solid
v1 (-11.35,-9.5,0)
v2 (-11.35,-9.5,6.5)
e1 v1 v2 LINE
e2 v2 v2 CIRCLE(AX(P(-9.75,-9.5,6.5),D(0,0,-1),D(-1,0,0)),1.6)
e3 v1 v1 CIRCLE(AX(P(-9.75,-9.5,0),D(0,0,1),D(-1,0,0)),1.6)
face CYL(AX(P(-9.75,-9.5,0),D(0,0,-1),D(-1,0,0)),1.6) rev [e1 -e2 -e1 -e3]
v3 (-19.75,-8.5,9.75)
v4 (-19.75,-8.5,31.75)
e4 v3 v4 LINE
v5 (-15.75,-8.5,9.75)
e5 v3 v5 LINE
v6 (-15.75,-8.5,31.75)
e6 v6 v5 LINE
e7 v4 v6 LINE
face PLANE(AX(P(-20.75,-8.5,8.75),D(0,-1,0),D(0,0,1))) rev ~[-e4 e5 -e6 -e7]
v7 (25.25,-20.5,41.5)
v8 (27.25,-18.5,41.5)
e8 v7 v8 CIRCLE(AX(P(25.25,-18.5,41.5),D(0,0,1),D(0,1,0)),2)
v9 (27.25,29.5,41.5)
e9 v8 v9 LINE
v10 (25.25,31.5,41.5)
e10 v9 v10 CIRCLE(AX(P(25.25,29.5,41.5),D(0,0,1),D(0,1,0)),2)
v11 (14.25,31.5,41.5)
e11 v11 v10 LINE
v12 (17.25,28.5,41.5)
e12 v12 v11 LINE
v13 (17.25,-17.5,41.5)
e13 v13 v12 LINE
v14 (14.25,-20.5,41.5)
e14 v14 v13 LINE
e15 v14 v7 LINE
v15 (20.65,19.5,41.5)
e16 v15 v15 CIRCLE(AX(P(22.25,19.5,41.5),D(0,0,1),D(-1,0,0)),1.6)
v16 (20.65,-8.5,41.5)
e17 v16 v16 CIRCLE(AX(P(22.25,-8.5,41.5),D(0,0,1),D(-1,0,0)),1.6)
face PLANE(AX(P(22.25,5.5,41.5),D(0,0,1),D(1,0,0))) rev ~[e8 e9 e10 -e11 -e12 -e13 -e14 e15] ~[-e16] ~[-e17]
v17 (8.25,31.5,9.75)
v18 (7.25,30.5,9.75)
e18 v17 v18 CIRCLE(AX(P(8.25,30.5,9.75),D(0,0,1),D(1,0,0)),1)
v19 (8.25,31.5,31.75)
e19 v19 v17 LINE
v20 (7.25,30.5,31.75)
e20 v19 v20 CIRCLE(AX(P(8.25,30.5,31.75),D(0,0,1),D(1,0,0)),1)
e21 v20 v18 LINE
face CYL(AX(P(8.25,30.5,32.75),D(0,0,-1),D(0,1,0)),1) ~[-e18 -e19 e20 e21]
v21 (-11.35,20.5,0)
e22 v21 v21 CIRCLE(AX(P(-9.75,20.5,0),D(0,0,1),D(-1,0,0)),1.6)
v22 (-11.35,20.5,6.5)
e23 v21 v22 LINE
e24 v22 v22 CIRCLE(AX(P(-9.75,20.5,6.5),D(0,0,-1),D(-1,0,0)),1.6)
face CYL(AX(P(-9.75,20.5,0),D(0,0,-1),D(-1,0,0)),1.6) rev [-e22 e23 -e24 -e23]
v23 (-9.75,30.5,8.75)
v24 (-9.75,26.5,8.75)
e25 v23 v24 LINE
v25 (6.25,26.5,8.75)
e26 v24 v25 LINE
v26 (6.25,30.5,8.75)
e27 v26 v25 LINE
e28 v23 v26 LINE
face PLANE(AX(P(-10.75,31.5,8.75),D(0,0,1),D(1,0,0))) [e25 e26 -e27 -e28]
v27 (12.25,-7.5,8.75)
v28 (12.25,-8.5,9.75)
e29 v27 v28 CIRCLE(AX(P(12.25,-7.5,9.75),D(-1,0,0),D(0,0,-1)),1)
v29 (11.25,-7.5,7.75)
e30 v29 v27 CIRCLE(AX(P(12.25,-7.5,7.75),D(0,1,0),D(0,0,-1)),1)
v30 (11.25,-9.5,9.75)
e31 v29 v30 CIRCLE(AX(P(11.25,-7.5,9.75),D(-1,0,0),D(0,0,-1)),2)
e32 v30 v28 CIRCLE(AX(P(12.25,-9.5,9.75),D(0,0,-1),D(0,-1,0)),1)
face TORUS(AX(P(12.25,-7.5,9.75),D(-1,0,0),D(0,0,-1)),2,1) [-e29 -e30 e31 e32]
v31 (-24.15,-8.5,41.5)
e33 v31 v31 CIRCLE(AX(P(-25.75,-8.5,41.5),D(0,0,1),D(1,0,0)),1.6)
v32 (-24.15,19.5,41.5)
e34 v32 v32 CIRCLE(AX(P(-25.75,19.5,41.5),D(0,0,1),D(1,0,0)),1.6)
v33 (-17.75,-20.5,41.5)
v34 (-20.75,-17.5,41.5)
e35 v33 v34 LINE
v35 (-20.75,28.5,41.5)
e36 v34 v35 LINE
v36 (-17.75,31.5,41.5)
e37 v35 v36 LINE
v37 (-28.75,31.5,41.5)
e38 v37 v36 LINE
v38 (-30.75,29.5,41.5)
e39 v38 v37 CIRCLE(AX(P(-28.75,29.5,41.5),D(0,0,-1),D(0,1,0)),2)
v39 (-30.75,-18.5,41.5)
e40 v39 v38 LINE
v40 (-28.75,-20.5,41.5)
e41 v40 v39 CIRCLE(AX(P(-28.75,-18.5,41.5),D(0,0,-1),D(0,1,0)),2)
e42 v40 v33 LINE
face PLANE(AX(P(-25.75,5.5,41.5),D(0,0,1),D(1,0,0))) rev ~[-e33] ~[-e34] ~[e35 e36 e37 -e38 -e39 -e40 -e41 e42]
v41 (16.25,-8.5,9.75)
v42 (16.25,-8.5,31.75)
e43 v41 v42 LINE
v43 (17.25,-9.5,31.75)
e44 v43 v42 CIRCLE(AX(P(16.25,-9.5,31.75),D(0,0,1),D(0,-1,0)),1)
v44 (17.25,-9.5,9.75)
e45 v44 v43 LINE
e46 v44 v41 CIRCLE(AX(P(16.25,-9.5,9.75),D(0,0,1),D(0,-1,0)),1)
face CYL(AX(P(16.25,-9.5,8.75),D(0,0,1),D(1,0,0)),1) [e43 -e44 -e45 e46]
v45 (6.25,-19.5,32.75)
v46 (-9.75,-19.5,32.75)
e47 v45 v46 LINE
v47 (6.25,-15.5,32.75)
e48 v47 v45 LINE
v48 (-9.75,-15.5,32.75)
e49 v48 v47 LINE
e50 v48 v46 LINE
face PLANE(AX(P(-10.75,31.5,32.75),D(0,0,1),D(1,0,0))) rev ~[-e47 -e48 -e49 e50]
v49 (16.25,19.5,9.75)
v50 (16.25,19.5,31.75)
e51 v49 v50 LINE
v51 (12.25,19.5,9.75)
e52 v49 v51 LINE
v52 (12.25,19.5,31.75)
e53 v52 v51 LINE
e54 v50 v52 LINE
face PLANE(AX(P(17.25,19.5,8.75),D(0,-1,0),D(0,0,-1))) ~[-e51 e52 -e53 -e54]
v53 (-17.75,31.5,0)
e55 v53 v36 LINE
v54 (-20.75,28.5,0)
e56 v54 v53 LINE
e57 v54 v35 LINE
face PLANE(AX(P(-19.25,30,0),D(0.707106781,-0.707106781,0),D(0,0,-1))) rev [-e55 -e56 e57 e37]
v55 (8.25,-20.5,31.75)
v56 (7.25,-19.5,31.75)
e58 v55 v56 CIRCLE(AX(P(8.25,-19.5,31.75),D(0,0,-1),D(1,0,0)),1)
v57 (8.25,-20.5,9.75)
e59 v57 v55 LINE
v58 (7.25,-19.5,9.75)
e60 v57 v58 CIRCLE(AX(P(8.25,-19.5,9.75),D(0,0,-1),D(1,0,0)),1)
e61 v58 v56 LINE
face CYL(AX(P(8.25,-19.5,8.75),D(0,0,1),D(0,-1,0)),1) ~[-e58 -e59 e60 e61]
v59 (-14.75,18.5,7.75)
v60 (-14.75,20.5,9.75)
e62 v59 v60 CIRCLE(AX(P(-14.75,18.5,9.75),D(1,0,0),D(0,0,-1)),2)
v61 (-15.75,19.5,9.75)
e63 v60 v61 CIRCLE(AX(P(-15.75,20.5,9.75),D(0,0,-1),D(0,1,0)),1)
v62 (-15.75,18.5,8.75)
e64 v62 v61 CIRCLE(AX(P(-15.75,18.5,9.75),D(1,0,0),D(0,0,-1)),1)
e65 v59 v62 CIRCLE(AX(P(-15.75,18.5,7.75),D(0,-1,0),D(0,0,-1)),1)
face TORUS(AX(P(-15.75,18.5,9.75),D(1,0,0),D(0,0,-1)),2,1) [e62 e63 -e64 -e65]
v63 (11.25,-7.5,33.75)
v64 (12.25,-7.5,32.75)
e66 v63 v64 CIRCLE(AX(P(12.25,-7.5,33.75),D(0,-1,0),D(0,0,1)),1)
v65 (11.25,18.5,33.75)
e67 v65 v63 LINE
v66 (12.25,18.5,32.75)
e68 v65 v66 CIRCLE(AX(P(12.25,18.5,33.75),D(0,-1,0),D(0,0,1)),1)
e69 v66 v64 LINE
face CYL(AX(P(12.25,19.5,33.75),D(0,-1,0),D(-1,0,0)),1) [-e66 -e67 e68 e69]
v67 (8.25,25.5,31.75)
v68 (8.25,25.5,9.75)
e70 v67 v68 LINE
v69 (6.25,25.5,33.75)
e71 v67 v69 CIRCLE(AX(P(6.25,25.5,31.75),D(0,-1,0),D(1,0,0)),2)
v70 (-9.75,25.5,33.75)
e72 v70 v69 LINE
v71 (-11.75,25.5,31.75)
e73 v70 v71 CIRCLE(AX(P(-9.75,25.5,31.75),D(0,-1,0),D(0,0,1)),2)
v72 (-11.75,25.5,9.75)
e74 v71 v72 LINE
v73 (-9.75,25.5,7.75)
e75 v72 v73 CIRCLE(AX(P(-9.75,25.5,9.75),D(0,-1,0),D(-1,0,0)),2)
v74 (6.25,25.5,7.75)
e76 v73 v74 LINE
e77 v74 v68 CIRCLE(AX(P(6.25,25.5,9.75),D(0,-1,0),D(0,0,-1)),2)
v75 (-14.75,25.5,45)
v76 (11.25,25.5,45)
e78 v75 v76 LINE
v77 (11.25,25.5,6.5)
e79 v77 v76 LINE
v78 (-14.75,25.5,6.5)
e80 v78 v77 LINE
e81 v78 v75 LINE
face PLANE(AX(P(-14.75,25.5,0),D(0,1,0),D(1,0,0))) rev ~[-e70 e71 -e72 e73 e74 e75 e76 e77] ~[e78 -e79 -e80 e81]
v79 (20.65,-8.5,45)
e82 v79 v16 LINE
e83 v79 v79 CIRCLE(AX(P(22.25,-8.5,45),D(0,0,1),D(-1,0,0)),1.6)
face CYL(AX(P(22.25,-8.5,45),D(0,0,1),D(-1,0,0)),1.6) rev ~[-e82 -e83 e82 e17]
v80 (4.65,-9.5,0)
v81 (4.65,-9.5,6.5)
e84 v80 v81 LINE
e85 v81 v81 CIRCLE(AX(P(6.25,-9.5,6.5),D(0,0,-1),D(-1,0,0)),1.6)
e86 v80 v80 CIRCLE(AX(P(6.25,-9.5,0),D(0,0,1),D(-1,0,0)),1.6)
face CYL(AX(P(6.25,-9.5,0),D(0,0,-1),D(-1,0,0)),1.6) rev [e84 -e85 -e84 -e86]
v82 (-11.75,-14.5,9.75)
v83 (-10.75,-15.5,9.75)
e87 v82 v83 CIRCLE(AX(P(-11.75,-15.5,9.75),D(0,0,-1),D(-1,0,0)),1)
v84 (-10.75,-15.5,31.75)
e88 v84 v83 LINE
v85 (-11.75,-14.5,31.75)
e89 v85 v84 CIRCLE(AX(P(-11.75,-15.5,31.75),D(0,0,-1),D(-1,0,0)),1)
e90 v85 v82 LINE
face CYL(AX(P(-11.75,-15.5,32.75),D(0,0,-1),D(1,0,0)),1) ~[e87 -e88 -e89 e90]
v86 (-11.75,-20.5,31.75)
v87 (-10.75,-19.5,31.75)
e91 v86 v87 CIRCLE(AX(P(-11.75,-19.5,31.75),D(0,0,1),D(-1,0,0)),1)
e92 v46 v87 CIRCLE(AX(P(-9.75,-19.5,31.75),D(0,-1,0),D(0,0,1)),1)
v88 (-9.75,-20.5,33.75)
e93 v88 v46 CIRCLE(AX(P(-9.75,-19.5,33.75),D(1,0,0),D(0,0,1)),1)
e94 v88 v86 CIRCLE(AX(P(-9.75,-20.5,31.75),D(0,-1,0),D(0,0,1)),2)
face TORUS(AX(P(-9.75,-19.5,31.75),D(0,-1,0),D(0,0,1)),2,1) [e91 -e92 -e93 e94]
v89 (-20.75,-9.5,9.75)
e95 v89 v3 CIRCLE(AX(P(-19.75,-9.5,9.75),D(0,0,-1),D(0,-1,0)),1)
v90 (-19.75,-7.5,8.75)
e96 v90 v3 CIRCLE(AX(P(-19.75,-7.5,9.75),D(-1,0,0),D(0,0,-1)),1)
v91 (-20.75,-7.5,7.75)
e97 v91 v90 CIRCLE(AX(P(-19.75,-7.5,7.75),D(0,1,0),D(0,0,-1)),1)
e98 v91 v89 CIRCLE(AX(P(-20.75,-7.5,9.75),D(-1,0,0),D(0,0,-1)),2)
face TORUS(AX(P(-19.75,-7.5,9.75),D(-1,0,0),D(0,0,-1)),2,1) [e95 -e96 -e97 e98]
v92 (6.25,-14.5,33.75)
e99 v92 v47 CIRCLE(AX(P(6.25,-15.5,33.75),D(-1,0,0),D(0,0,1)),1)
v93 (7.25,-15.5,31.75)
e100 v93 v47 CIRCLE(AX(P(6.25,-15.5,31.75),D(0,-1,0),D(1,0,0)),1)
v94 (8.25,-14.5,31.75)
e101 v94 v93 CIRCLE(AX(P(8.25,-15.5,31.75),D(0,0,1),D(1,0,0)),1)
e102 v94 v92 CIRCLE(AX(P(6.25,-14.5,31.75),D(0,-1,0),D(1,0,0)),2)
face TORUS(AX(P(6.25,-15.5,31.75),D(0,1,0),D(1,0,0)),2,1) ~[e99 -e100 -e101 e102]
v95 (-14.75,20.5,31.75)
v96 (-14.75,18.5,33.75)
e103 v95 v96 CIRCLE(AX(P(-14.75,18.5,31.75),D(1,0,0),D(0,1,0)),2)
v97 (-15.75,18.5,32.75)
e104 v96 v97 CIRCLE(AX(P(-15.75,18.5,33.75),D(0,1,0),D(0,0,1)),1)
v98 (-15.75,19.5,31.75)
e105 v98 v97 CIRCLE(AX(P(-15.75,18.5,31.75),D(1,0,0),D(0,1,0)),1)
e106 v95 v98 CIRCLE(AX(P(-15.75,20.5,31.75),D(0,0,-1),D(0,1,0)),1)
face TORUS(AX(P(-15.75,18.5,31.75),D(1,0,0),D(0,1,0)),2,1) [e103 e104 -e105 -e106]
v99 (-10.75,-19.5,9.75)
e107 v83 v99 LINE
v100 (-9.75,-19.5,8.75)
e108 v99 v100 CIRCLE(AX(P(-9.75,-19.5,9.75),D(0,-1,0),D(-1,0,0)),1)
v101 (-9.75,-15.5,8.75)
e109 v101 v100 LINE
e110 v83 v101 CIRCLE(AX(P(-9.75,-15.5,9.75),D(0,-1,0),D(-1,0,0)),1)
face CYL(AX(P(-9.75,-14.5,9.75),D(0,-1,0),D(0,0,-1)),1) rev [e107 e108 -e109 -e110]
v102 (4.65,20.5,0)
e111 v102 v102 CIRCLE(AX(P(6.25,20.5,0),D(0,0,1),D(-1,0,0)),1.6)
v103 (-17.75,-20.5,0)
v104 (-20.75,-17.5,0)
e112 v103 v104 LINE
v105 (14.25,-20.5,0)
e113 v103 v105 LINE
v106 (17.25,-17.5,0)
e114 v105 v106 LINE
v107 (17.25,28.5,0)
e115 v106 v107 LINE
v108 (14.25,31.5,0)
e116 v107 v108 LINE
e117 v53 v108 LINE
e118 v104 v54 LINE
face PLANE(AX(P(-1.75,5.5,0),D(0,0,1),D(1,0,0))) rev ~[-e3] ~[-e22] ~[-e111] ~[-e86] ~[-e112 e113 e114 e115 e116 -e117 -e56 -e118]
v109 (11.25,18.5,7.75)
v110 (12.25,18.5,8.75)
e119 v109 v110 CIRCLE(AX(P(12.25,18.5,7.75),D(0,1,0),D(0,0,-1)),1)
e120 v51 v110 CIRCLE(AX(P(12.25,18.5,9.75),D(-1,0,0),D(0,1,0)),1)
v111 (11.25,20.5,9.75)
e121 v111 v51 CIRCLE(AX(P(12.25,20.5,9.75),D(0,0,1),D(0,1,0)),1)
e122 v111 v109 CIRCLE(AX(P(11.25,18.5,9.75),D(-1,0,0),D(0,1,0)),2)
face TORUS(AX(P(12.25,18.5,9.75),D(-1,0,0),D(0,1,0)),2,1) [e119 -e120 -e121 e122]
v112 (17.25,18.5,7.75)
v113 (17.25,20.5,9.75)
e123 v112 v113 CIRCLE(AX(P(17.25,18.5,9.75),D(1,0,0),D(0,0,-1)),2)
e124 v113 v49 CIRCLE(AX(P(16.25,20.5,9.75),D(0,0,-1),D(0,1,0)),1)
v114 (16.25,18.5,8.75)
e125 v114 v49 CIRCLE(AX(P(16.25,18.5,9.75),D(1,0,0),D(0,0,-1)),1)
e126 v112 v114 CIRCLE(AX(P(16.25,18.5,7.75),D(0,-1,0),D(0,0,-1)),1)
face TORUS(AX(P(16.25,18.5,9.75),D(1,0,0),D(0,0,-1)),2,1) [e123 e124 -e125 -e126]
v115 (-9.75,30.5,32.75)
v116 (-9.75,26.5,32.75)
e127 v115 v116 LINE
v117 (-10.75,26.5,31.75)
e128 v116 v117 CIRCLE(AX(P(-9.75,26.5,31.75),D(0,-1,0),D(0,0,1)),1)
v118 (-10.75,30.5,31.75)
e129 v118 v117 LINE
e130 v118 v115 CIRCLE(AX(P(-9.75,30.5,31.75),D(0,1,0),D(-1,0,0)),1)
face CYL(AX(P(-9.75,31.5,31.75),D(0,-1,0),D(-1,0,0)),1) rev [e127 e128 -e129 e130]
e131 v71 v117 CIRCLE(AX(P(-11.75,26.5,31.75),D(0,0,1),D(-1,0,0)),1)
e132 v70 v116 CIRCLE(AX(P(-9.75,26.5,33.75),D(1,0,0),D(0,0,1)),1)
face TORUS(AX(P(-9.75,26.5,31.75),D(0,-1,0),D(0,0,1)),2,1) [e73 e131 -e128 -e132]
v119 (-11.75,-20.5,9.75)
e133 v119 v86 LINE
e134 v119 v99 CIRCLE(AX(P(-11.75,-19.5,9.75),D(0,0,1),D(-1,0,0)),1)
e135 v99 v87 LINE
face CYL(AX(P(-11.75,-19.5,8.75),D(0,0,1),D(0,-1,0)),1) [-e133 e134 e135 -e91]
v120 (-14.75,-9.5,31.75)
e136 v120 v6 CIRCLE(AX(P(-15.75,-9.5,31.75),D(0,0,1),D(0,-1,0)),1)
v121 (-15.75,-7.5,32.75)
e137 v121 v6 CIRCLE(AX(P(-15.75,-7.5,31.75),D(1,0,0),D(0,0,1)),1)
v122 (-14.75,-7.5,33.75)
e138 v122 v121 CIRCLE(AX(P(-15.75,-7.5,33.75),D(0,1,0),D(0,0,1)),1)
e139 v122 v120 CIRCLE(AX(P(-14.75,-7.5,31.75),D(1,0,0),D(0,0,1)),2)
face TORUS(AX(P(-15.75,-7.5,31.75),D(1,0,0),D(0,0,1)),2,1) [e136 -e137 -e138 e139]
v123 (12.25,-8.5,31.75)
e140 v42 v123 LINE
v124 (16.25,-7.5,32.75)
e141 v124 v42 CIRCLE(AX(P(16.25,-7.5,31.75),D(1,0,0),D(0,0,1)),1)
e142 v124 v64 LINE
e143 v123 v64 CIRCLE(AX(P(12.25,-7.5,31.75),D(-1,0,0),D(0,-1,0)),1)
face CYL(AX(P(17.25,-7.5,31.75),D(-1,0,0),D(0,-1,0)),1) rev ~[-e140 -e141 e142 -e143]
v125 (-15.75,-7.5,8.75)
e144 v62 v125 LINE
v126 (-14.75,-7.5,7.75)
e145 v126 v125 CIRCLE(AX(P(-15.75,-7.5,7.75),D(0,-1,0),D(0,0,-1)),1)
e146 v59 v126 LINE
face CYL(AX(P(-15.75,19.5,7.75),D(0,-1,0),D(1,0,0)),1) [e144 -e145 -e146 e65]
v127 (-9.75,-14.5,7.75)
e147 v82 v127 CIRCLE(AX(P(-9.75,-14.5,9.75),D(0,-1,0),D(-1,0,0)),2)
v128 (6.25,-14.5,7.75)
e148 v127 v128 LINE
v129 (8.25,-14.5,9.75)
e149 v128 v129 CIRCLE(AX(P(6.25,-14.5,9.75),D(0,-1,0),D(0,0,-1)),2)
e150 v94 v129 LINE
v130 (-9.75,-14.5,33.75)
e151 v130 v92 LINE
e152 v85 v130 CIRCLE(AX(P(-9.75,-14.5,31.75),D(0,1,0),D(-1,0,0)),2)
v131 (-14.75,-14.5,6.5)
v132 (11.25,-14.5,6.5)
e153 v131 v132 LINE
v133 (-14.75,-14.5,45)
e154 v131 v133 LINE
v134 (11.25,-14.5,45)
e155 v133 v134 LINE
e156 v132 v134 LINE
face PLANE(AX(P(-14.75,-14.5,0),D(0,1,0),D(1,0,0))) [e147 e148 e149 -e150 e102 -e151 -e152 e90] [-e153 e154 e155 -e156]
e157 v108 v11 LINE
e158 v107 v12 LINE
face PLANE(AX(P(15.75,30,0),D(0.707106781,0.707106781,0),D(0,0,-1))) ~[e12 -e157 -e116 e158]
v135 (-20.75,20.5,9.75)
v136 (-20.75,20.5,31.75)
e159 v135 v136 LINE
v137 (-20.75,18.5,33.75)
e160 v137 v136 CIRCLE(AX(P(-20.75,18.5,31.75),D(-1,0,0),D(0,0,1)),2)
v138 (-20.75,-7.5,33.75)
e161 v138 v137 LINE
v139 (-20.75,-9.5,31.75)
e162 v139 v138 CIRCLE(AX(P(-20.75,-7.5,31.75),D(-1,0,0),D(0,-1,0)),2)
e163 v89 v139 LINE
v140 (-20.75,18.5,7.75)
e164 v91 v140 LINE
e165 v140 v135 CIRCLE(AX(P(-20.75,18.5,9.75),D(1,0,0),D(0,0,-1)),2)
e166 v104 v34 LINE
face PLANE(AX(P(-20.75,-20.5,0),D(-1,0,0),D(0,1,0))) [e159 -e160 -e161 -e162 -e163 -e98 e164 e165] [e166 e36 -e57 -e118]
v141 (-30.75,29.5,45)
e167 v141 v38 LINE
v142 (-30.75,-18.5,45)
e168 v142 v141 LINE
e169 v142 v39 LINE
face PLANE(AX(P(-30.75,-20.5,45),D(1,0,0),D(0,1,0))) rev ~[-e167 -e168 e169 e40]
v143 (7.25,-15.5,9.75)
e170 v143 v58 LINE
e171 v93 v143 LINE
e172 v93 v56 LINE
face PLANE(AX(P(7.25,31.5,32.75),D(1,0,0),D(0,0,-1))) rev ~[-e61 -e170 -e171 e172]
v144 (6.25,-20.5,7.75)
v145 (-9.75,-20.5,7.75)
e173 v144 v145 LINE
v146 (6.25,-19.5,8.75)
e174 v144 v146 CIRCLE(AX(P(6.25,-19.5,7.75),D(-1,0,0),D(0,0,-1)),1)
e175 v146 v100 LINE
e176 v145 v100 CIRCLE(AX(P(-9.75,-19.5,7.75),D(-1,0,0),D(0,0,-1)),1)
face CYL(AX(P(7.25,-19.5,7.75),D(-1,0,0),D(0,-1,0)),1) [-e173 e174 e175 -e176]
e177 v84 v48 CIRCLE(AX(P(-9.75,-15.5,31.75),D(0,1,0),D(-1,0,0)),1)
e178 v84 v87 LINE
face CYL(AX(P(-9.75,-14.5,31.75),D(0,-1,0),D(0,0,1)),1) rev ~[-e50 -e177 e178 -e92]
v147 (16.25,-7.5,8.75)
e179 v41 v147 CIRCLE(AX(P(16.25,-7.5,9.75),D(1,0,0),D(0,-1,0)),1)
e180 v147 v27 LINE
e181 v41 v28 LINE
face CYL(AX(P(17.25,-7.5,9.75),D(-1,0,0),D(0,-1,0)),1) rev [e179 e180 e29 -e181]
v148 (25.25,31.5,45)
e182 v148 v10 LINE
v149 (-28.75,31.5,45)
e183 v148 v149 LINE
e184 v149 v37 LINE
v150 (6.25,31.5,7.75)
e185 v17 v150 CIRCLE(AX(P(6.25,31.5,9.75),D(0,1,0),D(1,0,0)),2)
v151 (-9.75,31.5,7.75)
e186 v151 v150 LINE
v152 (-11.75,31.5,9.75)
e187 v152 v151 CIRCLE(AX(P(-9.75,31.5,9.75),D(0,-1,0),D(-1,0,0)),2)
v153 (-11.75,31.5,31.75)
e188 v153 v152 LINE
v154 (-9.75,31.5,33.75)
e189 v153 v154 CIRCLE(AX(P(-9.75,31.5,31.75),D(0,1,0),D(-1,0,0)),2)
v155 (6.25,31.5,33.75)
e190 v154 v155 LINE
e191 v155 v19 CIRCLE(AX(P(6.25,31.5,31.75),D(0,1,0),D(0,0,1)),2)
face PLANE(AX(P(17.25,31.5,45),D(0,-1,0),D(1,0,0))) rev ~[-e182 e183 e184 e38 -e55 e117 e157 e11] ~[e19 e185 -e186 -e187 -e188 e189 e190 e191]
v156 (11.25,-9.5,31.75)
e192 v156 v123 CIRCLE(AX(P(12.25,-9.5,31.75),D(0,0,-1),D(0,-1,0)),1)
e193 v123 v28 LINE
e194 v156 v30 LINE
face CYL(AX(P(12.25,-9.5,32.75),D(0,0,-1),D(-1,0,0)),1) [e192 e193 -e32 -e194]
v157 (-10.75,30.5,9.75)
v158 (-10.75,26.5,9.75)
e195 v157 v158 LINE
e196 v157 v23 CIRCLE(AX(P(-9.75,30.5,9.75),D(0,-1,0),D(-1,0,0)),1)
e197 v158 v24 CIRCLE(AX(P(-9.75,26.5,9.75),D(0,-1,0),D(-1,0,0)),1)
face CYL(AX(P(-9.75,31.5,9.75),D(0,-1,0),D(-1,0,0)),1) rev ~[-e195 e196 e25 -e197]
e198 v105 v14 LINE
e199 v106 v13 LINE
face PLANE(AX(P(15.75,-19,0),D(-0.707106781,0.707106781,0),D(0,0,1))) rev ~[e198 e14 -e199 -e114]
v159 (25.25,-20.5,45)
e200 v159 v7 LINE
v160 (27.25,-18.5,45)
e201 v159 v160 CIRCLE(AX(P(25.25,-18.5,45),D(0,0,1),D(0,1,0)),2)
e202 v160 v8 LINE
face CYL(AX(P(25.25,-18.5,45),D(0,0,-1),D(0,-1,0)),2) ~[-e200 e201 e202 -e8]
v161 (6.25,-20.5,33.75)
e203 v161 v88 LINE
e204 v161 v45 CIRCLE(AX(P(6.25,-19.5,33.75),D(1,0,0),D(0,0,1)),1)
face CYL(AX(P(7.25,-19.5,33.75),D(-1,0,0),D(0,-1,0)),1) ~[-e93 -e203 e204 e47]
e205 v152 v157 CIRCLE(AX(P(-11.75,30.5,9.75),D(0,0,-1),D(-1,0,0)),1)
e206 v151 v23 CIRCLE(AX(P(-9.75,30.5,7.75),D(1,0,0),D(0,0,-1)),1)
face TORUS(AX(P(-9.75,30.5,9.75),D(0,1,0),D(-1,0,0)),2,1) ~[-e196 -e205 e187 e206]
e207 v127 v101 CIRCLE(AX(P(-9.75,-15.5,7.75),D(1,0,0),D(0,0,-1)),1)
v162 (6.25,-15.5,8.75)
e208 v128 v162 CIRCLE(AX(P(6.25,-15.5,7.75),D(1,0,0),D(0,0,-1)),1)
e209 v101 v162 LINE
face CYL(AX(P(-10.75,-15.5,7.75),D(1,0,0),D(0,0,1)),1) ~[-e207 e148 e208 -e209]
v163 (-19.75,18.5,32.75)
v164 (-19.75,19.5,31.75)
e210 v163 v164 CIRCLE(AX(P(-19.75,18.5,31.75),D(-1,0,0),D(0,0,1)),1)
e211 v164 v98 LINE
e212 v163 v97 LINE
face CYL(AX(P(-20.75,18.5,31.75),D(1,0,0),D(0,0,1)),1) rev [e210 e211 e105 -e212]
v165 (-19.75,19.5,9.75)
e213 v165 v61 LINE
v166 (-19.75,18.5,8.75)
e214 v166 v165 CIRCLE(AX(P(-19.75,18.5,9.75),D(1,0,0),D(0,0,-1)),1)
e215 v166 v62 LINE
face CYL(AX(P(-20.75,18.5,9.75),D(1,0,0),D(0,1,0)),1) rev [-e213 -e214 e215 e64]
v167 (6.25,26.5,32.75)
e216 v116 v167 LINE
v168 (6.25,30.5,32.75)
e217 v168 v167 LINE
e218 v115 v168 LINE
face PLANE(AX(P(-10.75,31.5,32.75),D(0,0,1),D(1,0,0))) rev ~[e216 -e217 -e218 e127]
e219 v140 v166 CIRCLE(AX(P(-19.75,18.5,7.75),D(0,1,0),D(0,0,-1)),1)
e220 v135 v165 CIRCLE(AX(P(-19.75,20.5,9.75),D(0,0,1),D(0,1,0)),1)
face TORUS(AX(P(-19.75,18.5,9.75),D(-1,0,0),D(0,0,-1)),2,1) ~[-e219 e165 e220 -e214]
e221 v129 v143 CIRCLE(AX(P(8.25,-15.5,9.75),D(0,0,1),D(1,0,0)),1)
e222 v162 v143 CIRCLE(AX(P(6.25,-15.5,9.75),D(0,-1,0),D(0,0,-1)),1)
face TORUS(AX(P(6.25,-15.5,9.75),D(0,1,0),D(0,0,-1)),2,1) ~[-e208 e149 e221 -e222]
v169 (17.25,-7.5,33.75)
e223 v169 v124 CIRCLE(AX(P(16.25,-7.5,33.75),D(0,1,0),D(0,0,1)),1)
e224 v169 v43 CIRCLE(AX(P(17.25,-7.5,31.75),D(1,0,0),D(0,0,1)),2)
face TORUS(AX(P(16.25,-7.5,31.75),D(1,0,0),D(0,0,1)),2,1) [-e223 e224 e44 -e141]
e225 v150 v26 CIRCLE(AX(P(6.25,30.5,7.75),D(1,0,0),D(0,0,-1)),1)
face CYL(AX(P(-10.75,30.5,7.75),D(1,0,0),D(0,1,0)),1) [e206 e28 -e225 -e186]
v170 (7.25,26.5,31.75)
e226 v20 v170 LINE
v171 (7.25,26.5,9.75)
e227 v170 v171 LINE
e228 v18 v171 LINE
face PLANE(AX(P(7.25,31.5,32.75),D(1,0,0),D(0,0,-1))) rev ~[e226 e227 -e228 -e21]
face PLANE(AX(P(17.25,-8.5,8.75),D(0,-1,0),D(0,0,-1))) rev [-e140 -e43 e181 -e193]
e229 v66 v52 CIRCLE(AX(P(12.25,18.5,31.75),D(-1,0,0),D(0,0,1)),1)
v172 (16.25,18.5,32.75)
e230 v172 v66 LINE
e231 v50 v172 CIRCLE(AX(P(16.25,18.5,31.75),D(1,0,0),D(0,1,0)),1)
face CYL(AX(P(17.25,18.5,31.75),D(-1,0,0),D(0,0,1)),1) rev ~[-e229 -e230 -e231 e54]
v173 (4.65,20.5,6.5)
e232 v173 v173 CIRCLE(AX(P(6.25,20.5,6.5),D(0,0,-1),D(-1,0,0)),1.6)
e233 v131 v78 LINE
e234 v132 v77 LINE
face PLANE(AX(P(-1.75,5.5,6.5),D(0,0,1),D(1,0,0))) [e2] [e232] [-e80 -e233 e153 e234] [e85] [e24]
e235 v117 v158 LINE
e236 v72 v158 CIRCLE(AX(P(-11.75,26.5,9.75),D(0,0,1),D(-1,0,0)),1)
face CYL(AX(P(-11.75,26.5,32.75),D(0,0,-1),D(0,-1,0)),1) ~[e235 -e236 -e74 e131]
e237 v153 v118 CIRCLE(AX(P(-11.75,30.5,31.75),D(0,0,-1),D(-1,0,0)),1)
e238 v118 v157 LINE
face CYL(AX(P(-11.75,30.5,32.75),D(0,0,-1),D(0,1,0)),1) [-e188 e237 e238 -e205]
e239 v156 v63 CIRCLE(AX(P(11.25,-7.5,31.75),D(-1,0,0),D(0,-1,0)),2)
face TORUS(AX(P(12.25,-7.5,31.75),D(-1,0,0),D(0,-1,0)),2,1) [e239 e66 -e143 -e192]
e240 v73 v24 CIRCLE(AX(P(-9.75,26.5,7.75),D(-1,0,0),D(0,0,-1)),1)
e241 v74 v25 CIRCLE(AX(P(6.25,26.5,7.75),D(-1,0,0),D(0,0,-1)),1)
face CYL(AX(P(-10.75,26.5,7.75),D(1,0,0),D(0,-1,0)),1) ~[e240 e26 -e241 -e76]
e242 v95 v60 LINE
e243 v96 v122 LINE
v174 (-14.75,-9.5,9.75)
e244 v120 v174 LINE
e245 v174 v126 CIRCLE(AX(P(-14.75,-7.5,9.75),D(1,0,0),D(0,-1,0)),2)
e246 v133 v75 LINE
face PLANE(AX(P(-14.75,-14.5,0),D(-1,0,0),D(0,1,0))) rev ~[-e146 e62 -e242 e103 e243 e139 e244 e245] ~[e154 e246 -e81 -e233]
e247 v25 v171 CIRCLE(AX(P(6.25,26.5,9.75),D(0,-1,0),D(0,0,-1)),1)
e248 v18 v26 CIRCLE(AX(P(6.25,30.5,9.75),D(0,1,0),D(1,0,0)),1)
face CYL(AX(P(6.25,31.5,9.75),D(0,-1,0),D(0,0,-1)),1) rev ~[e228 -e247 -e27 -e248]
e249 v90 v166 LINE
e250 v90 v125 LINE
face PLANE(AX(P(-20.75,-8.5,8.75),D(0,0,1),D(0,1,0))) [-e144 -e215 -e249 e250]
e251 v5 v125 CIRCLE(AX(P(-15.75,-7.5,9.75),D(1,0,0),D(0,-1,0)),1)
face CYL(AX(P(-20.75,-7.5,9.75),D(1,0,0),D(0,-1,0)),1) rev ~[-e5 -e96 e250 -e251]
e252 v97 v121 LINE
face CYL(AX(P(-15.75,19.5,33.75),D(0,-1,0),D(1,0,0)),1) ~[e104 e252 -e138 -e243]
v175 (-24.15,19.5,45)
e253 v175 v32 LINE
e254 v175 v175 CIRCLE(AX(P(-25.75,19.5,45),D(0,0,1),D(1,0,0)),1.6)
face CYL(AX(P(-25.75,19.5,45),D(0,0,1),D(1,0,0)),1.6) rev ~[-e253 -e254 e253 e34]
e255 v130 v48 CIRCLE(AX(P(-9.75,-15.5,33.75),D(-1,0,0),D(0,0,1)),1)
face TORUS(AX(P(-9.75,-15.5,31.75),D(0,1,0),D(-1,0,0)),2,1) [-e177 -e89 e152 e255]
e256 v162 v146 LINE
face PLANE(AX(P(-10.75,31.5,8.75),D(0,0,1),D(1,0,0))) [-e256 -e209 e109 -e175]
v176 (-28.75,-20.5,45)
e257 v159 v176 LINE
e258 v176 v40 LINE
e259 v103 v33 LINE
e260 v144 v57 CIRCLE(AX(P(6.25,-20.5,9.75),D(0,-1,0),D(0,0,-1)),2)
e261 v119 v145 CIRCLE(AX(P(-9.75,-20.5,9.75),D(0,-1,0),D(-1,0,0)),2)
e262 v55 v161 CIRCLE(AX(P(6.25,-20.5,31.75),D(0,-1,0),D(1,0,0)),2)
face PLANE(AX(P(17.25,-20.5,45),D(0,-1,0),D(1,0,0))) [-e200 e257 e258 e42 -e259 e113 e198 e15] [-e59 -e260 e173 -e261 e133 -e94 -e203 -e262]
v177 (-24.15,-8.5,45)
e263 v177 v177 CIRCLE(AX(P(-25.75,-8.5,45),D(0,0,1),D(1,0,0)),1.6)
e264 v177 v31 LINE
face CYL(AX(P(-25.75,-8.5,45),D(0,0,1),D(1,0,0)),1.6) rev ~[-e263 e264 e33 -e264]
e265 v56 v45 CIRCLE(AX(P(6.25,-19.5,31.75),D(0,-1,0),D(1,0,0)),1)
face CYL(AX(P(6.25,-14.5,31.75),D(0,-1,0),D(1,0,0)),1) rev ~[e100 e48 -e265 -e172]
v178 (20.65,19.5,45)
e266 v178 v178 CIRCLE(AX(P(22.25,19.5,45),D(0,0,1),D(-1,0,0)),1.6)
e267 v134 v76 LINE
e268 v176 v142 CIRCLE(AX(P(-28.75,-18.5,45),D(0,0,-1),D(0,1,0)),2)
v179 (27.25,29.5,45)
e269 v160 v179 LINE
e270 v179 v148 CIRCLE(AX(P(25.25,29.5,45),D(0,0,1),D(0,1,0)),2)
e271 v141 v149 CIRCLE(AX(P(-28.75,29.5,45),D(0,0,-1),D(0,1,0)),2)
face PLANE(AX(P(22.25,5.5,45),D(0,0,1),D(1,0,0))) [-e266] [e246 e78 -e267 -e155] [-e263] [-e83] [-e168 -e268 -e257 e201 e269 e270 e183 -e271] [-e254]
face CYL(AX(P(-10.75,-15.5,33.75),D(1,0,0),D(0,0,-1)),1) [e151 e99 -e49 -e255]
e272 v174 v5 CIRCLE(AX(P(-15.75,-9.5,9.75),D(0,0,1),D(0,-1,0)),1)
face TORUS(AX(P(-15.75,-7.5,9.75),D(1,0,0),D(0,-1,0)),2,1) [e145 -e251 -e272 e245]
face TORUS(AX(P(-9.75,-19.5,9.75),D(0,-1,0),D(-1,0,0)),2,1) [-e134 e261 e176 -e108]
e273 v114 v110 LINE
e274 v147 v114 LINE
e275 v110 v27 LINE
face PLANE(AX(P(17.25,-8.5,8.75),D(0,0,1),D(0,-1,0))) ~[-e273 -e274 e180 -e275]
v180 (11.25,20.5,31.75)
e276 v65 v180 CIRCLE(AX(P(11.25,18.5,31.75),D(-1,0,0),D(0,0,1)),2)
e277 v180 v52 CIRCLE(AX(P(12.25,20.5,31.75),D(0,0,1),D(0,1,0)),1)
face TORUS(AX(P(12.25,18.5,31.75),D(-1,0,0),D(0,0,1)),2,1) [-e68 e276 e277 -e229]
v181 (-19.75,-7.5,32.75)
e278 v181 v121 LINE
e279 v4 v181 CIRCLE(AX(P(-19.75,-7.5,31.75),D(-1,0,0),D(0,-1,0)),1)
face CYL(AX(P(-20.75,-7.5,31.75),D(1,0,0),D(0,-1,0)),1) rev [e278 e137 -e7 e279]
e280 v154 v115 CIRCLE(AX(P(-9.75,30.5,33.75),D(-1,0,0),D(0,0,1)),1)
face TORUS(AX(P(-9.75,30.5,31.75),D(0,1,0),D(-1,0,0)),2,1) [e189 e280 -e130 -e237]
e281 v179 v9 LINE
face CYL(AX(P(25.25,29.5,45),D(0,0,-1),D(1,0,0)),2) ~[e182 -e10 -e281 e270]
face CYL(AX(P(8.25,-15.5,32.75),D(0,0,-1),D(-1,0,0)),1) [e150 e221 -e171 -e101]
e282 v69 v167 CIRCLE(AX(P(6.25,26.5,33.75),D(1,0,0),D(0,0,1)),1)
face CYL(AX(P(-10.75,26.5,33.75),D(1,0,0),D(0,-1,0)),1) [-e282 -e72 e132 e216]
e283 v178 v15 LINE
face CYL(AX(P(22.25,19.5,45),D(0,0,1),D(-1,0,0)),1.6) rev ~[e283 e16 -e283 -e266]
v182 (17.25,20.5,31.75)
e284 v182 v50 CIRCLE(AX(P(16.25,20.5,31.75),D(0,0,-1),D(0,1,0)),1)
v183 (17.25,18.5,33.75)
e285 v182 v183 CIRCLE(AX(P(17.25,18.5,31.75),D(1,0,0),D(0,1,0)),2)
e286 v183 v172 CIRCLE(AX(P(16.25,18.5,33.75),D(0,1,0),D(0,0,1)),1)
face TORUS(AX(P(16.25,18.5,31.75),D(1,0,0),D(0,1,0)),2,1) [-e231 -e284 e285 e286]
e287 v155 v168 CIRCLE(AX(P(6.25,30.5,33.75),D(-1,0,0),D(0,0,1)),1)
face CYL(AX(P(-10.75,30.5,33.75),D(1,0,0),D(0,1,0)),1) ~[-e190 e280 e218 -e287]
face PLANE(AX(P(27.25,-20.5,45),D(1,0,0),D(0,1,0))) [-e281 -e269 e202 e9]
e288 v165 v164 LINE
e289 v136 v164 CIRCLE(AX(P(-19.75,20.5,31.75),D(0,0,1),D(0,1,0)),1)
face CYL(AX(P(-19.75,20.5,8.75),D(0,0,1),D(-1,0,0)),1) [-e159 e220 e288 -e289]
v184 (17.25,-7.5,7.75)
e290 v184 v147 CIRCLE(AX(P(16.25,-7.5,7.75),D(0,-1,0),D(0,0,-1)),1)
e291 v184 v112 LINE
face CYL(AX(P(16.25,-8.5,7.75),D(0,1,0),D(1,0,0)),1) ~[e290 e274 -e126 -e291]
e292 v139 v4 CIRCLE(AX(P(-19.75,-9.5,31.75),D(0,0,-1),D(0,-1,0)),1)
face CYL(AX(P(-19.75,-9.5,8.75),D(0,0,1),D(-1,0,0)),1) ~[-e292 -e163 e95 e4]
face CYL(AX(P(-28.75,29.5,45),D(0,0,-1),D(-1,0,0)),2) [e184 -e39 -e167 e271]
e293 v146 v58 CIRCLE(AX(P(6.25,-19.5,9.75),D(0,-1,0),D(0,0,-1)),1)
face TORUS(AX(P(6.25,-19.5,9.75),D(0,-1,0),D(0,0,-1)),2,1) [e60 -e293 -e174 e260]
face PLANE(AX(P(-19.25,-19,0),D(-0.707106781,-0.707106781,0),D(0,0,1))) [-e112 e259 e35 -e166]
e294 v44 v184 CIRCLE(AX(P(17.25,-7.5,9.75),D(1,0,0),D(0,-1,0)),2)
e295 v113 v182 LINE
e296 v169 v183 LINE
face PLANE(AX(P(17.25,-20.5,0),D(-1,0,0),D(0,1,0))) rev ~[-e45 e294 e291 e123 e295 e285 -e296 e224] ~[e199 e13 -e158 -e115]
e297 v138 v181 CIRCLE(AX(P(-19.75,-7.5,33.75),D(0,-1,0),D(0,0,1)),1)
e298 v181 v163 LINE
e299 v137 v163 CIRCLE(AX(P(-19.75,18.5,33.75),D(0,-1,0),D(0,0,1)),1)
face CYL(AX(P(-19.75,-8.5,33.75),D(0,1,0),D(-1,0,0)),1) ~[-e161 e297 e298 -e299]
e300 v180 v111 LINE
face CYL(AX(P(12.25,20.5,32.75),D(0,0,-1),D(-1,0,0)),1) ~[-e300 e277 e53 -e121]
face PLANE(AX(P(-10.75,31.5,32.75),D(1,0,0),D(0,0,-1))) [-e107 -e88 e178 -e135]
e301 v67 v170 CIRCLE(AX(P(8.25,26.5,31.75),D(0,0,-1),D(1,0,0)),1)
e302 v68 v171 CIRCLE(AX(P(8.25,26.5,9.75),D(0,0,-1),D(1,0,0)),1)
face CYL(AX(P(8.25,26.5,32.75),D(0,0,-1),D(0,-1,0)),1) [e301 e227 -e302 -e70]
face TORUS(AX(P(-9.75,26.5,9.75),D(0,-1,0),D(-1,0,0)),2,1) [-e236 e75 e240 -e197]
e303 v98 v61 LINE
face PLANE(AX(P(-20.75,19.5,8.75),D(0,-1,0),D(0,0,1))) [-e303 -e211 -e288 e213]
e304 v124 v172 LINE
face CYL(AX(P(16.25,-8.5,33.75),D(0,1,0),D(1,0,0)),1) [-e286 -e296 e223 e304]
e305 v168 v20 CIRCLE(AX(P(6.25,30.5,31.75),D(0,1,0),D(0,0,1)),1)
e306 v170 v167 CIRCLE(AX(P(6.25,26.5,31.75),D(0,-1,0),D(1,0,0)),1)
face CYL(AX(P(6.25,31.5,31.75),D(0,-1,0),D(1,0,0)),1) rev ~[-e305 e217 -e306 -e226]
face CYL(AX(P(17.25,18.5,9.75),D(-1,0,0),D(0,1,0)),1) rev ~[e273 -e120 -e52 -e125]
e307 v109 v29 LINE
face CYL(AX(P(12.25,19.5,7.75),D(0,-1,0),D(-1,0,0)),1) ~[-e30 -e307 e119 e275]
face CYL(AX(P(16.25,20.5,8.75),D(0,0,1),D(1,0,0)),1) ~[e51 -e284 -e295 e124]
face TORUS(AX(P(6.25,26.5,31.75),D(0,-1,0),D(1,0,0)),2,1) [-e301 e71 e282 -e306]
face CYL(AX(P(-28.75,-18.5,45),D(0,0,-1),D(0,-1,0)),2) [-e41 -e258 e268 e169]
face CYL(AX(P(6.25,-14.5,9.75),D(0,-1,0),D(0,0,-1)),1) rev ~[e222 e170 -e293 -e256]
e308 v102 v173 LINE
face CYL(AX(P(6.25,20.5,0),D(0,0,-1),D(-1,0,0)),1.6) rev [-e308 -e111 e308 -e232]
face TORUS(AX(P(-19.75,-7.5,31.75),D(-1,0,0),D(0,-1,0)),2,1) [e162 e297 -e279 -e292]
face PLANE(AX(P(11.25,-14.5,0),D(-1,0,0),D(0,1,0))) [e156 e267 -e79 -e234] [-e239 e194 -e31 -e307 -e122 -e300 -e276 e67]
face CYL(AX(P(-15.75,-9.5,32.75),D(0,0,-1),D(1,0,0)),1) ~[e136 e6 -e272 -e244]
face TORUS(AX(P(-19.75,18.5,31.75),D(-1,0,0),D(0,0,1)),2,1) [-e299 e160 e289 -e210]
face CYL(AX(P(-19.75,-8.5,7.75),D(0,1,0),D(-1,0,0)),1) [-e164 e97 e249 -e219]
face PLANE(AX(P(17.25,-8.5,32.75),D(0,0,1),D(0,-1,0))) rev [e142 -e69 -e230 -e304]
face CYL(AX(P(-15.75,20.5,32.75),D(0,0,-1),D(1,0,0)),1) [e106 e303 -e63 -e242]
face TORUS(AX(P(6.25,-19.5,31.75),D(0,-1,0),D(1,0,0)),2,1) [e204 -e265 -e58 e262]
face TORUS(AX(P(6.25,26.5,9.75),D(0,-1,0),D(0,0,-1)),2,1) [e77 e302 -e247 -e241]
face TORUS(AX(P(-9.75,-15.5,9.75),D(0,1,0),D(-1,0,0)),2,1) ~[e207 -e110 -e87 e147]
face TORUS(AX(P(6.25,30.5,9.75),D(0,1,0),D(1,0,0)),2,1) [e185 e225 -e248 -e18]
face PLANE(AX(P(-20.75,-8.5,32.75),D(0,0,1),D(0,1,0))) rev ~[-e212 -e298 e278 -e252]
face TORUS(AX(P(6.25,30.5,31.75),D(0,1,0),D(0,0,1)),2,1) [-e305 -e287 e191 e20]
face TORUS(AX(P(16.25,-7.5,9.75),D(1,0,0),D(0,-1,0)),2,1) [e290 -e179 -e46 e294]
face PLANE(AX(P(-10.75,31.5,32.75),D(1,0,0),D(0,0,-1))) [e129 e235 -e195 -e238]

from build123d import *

# Parameters (mm, degrees)
SKETCH_1_W          = 26
SKETCH_1_H          = 40
EXTRUDE_1_DEPTH     = 6.5
CUT_EXTRUDE_1_REACH = 32.167
SKETCH_1_3_R        = 1.6
SKETCH_1_4_W        = 38
SKETCH_1_4_H        = 52
SKETCH_1_4_W_2      = 26
SKETCH_1_4_H_2      = 40
EXTRUDE_2_DEPTH     = 45
SKETCH_3_W          = 10
SKETCH_3_H          = 52
EXTRUDE_1_2_DEPTH   = 3.5
SKETCH_3_4_W        = 10
SKETCH_3_4_H        = 52
EXTRUDE_2_2_DEPTH   = 3.5
CUT_EXTRUDE_2_REACH = 64.951
SKETCH_3_5_R        = 1.6
FILLET_1_R          = 2
CHAMFER_1_SIZE      = 3
CUT_EXTRUDE_3_REACH = 74.947
SKETCH_4_W          = 24
SKETCH_4_H          = 28
SKETCH_5_W          = 18
SKETCH_5_H          = 24
CUT_EXTRUDE_4_DEPTH = 76.329692021
FILLET_2_R          = 1


with BuildPart() as part:
    # 草图1 → Extrude 1 (new body)
    with BuildSketch(Plane.XY):
        with Locations((-1.75, 5.5)):
            Rectangle(SKETCH_1_W, SKETCH_1_H)
    extrude(amount=EXTRUDE_1_DEPTH)

    # 草图1<3> → 切除-拉伸1 (cut, up to next)
    with BuildSketch(Plane.XY, mode=Mode.PRIVATE) as cut_extrude_1_sk1:
        with Locations(Location((-9.75, 20.5, 0), (0, 0, 180))):
            Circle(SKETCH_1_3_R)
    cut_extrude_1_tool1 = extrude(cut_extrude_1_sk1.sketch, amount=CUT_EXTRUDE_1_REACH, mode=Mode.PRIVATE) & part.part
    # 草图1<3> → 切除-拉伸1 (cut, up to next)
    with BuildSketch(Plane.XY, mode=Mode.PRIVATE) as cut_extrude_1_sk2:
        with Locations(Location((6.25, 20.5, 0), (0, 0, 180))):
            Circle(SKETCH_1_3_R)
    cut_extrude_1_tool2 = extrude(cut_extrude_1_sk2.sketch, amount=CUT_EXTRUDE_1_REACH, mode=Mode.PRIVATE) & part.part
    # 草图1<3> → 切除-拉伸1 (cut, up to next)
    with BuildSketch(Plane.XY, mode=Mode.PRIVATE) as cut_extrude_1_sk3:
        with Locations(Location((-9.75, -9.5, 0), (0, 0, 180))):
            Circle(SKETCH_1_3_R)
    cut_extrude_1_tool3 = extrude(cut_extrude_1_sk3.sketch, amount=CUT_EXTRUDE_1_REACH, mode=Mode.PRIVATE) & part.part
    # 草图1<3> → 切除-拉伸1 (cut, up to next)
    with BuildSketch(Plane.XY, mode=Mode.PRIVATE) as cut_extrude_1_sk4:
        with Locations(Location((6.25, -9.5, 0), (0, 0, 180))):
            Circle(SKETCH_1_3_R)
    cut_extrude_1_tool4 = extrude(cut_extrude_1_sk4.sketch, amount=CUT_EXTRUDE_1_REACH, mode=Mode.PRIVATE) & part.part
    add(cut_extrude_1_tool1.solids().sort_by_distance((-9.75, 20.5, 0))[0], mode=Mode.SUBTRACT)
    add(cut_extrude_1_tool2.solids().sort_by_distance((6.25, 20.5, 0))[0], mode=Mode.SUBTRACT)
    add(cut_extrude_1_tool3.solids().sort_by_distance((-9.75, -9.5, 0))[0], mode=Mode.SUBTRACT)
    add(cut_extrude_1_tool4.solids().sort_by_distance((6.25, -9.5, 0))[0], mode=Mode.SUBTRACT)

    # 草图1<4> → Extrude 2 (add)
    with BuildSketch(Plane.XY):
        with Locations((-1.75, 5.5)):
            Rectangle(SKETCH_1_4_W, SKETCH_1_4_H)
        with Locations((-1.75, 5.5)):
            Rectangle(SKETCH_1_4_W_2, SKETCH_1_4_H_2, mode=Mode.SUBTRACT)
    extrude(amount=EXTRUDE_2_DEPTH)

    # 草图3 → Extrude 1 2 (add)
    with BuildSketch(Plane.XY.offset(45)):
        with Locations((-25.75, 5.5)):
            Rectangle(SKETCH_3_W, SKETCH_3_H)
    extrude(amount=-EXTRUDE_1_2_DEPTH)

    # 草图3<4> → Extrude 2 2 (add)
    with BuildSketch(Plane.XY.offset(45)):
        with Locations((22.25, 5.5)):
            Rectangle(SKETCH_3_4_W, SKETCH_3_4_H)
    extrude(amount=-EXTRUDE_2_2_DEPTH)

    # 草图3<5> → 切除-拉伸2 (cut, up to next)
    with BuildSketch(Plane.XY.offset(45), mode=Mode.PRIVATE) as cut_extrude_2_sk1:
        with Locations((-25.75, 19.5)):
            Circle(SKETCH_3_5_R)
    cut_extrude_2_tool1 = extrude(cut_extrude_2_sk1.sketch, amount=-CUT_EXTRUDE_2_REACH, mode=Mode.PRIVATE) & part.part
    # 草图3<5> → 切除-拉伸2 (cut, up to next)
    with BuildSketch(Plane.XY.offset(45), mode=Mode.PRIVATE) as cut_extrude_2_sk2:
        with Locations(Location((22.25, 19.5, 0), (0, 0, 180))):
            Circle(SKETCH_3_5_R)
    cut_extrude_2_tool2 = extrude(cut_extrude_2_sk2.sketch, amount=-CUT_EXTRUDE_2_REACH, mode=Mode.PRIVATE) & part.part
    # 草图3<5> → 切除-拉伸2 (cut, up to next)
    with BuildSketch(Plane.XY.offset(45), mode=Mode.PRIVATE) as cut_extrude_2_sk3:
        with Locations((-25.75, -8.5)):
            Circle(SKETCH_3_5_R)
    cut_extrude_2_tool3 = extrude(cut_extrude_2_sk3.sketch, amount=-CUT_EXTRUDE_2_REACH, mode=Mode.PRIVATE) & part.part
    # 草图3<5> → 切除-拉伸2 (cut, up to next)
    with BuildSketch(Plane.XY.offset(45), mode=Mode.PRIVATE) as cut_extrude_2_sk4:
        with Locations(Location((22.25, -8.5, 0), (0, 0, 180))):
            Circle(SKETCH_3_5_R)
    cut_extrude_2_tool4 = extrude(cut_extrude_2_sk4.sketch, amount=-CUT_EXTRUDE_2_REACH, mode=Mode.PRIVATE) & part.part
    add(cut_extrude_2_tool1.solids().sort_by_distance((-25.75, 19.5, 45))[0], mode=Mode.SUBTRACT)
    add(cut_extrude_2_tool2.solids().sort_by_distance((22.25, 19.5, 45))[0], mode=Mode.SUBTRACT)
    add(cut_extrude_2_tool3.solids().sort_by_distance((-25.75, -8.5, 45))[0], mode=Mode.SUBTRACT)
    add(cut_extrude_2_tool4.solids().sort_by_distance((22.25, -8.5, 45))[0], mode=Mode.SUBTRACT)

    # 圆角1
    fillet_1_edges = [part.edges().sort_by_distance(p)[0] for p in [
        (-30.75, -20.5, 43.25),
        (-30.75, 31.5, 43.25),
        (27.25, 31.5, 43.25),
        (27.25, -20.5, 43.25),
    ]]
    fillet(fillet_1_edges, radius=FILLET_1_R)

    # 倒角1
    chamfer_1_edges = [part.edges().sort_by_distance(p)[0] for p in [
        (-20.75, -20.5, 20.75),
        (-20.75, 31.5, 20.75),
        (17.25, 31.5, 20.75),
        (17.25, -20.5, 20.75),
    ]]
    chamfer(chamfer_1_edges, length=CHAMFER_1_SIZE)

    # 草图4 → 切除-拉伸3 (cut, up to next)
    with BuildSketch(Plane.ZY.offset(20.75), mode=Mode.PRIVATE) as cut_extrude_3_sk1:
        with Locations((20.75, 5.5)):
            Rectangle(SKETCH_4_W, SKETCH_4_H)
    cut_extrude_3_tool1 = extrude(cut_extrude_3_sk1.sketch, amount=-CUT_EXTRUDE_3_REACH, mode=Mode.PRIVATE) & part.part
    cut_extrude_3 = cut_extrude_3_tool1.solids().sort_by_distance((-20.75, 5.5, 20.75))[0]
    add(cut_extrude_3, mode=Mode.SUBTRACT)

    # 镜向1: 切除-拉伸3 across plane
    add(cut_extrude_3.mirror(Plane.ZY.offset(1.75)), mode=Mode.SUBTRACT)

    # 草图5 → 切除-拉伸4 (cut, through all)
    with BuildSketch(Plane(origin=(0, 31.5, 0), x_dir=(1, 0, 0), z_dir=(0, 1, 0))):
        with Locations((-1.75, -20.75)):
            Rectangle(SKETCH_5_W, SKETCH_5_H)
    extrude(amount=-CUT_EXTRUDE_4_DEPTH, mode=Mode.SUBTRACT)

    # 圆角2
    fillet_2_edges = [part.edges().sort_by_distance(p)[0] for p in [
        (-14.75, 5.5, 8.75),
        (-17.75, -8.5, 8.75),
        (-14.75, 19.5, 20.75),
        (-17.75, 19.5, 8.75),
        (-14.75, 5.5, 32.75),
        (-17.75, 19.5, 32.75),
        (-14.75, -8.5, 20.75),
        (-17.75, -8.5, 32.75),
        (-20.75, 5.5, 8.75),
        (-20.75, -8.5, 20.75),
        (-20.75, 5.5, 32.75),
        (-20.75, 19.5, 20.75),
        (11.25, 5.5, 8.75),
        (14.25, 19.5, 8.75),
        (17.25, 5.5, 8.75),
        (11.25, -8.5, 20.75),
        (14.25, -8.5, 8.75),
        (17.25, -8.5, 20.75),
        (11.25, 5.5, 32.75),
        (14.25, -8.5, 32.75),
        (17.25, 5.5, 32.75),
        (11.25, 19.5, 20.75),
        (14.25, 19.5, 32.75),
        (17.25, 19.5, 20.75),
        (-10.75, 25.5, 20.75),
        (-10.75, 28.5, 32.75),
        (-10.75, -14.5, 20.75),
        (-1.75, 25.5, 8.75),
        (-10.75, 28.5, 8.75),
        (-1.75, -14.5, 8.75),
        (7.25, 25.5, 20.75),
        (7.25, 28.5, 8.75),
        (7.25, -14.5, 20.75),
        (-1.75, 25.5, 32.75),
        (7.25, 28.5, 32.75),
        (-1.75, -14.5, 32.75),
        (-10.75, -20.5, 20.75),
        (-10.75, -17.5, 32.75),
        (-1.75, -20.5, 8.75),
        (-10.75, -17.5, 8.75),
        (7.25, -20.5, 20.75),
        (7.25, -17.5, 8.75),
        (-1.75, -20.5, 32.75),
        (7.25, -17.5, 32.75),
        (-10.75, 31.5, 20.75),
        (-1.75, 31.5, 32.75),
        (7.25, 31.5, 20.75),
        (-1.75, 31.5, 8.75),
    ]]
    fillet(fillet_2_edges, radius=FILLET_2_R)


solid = part.part
